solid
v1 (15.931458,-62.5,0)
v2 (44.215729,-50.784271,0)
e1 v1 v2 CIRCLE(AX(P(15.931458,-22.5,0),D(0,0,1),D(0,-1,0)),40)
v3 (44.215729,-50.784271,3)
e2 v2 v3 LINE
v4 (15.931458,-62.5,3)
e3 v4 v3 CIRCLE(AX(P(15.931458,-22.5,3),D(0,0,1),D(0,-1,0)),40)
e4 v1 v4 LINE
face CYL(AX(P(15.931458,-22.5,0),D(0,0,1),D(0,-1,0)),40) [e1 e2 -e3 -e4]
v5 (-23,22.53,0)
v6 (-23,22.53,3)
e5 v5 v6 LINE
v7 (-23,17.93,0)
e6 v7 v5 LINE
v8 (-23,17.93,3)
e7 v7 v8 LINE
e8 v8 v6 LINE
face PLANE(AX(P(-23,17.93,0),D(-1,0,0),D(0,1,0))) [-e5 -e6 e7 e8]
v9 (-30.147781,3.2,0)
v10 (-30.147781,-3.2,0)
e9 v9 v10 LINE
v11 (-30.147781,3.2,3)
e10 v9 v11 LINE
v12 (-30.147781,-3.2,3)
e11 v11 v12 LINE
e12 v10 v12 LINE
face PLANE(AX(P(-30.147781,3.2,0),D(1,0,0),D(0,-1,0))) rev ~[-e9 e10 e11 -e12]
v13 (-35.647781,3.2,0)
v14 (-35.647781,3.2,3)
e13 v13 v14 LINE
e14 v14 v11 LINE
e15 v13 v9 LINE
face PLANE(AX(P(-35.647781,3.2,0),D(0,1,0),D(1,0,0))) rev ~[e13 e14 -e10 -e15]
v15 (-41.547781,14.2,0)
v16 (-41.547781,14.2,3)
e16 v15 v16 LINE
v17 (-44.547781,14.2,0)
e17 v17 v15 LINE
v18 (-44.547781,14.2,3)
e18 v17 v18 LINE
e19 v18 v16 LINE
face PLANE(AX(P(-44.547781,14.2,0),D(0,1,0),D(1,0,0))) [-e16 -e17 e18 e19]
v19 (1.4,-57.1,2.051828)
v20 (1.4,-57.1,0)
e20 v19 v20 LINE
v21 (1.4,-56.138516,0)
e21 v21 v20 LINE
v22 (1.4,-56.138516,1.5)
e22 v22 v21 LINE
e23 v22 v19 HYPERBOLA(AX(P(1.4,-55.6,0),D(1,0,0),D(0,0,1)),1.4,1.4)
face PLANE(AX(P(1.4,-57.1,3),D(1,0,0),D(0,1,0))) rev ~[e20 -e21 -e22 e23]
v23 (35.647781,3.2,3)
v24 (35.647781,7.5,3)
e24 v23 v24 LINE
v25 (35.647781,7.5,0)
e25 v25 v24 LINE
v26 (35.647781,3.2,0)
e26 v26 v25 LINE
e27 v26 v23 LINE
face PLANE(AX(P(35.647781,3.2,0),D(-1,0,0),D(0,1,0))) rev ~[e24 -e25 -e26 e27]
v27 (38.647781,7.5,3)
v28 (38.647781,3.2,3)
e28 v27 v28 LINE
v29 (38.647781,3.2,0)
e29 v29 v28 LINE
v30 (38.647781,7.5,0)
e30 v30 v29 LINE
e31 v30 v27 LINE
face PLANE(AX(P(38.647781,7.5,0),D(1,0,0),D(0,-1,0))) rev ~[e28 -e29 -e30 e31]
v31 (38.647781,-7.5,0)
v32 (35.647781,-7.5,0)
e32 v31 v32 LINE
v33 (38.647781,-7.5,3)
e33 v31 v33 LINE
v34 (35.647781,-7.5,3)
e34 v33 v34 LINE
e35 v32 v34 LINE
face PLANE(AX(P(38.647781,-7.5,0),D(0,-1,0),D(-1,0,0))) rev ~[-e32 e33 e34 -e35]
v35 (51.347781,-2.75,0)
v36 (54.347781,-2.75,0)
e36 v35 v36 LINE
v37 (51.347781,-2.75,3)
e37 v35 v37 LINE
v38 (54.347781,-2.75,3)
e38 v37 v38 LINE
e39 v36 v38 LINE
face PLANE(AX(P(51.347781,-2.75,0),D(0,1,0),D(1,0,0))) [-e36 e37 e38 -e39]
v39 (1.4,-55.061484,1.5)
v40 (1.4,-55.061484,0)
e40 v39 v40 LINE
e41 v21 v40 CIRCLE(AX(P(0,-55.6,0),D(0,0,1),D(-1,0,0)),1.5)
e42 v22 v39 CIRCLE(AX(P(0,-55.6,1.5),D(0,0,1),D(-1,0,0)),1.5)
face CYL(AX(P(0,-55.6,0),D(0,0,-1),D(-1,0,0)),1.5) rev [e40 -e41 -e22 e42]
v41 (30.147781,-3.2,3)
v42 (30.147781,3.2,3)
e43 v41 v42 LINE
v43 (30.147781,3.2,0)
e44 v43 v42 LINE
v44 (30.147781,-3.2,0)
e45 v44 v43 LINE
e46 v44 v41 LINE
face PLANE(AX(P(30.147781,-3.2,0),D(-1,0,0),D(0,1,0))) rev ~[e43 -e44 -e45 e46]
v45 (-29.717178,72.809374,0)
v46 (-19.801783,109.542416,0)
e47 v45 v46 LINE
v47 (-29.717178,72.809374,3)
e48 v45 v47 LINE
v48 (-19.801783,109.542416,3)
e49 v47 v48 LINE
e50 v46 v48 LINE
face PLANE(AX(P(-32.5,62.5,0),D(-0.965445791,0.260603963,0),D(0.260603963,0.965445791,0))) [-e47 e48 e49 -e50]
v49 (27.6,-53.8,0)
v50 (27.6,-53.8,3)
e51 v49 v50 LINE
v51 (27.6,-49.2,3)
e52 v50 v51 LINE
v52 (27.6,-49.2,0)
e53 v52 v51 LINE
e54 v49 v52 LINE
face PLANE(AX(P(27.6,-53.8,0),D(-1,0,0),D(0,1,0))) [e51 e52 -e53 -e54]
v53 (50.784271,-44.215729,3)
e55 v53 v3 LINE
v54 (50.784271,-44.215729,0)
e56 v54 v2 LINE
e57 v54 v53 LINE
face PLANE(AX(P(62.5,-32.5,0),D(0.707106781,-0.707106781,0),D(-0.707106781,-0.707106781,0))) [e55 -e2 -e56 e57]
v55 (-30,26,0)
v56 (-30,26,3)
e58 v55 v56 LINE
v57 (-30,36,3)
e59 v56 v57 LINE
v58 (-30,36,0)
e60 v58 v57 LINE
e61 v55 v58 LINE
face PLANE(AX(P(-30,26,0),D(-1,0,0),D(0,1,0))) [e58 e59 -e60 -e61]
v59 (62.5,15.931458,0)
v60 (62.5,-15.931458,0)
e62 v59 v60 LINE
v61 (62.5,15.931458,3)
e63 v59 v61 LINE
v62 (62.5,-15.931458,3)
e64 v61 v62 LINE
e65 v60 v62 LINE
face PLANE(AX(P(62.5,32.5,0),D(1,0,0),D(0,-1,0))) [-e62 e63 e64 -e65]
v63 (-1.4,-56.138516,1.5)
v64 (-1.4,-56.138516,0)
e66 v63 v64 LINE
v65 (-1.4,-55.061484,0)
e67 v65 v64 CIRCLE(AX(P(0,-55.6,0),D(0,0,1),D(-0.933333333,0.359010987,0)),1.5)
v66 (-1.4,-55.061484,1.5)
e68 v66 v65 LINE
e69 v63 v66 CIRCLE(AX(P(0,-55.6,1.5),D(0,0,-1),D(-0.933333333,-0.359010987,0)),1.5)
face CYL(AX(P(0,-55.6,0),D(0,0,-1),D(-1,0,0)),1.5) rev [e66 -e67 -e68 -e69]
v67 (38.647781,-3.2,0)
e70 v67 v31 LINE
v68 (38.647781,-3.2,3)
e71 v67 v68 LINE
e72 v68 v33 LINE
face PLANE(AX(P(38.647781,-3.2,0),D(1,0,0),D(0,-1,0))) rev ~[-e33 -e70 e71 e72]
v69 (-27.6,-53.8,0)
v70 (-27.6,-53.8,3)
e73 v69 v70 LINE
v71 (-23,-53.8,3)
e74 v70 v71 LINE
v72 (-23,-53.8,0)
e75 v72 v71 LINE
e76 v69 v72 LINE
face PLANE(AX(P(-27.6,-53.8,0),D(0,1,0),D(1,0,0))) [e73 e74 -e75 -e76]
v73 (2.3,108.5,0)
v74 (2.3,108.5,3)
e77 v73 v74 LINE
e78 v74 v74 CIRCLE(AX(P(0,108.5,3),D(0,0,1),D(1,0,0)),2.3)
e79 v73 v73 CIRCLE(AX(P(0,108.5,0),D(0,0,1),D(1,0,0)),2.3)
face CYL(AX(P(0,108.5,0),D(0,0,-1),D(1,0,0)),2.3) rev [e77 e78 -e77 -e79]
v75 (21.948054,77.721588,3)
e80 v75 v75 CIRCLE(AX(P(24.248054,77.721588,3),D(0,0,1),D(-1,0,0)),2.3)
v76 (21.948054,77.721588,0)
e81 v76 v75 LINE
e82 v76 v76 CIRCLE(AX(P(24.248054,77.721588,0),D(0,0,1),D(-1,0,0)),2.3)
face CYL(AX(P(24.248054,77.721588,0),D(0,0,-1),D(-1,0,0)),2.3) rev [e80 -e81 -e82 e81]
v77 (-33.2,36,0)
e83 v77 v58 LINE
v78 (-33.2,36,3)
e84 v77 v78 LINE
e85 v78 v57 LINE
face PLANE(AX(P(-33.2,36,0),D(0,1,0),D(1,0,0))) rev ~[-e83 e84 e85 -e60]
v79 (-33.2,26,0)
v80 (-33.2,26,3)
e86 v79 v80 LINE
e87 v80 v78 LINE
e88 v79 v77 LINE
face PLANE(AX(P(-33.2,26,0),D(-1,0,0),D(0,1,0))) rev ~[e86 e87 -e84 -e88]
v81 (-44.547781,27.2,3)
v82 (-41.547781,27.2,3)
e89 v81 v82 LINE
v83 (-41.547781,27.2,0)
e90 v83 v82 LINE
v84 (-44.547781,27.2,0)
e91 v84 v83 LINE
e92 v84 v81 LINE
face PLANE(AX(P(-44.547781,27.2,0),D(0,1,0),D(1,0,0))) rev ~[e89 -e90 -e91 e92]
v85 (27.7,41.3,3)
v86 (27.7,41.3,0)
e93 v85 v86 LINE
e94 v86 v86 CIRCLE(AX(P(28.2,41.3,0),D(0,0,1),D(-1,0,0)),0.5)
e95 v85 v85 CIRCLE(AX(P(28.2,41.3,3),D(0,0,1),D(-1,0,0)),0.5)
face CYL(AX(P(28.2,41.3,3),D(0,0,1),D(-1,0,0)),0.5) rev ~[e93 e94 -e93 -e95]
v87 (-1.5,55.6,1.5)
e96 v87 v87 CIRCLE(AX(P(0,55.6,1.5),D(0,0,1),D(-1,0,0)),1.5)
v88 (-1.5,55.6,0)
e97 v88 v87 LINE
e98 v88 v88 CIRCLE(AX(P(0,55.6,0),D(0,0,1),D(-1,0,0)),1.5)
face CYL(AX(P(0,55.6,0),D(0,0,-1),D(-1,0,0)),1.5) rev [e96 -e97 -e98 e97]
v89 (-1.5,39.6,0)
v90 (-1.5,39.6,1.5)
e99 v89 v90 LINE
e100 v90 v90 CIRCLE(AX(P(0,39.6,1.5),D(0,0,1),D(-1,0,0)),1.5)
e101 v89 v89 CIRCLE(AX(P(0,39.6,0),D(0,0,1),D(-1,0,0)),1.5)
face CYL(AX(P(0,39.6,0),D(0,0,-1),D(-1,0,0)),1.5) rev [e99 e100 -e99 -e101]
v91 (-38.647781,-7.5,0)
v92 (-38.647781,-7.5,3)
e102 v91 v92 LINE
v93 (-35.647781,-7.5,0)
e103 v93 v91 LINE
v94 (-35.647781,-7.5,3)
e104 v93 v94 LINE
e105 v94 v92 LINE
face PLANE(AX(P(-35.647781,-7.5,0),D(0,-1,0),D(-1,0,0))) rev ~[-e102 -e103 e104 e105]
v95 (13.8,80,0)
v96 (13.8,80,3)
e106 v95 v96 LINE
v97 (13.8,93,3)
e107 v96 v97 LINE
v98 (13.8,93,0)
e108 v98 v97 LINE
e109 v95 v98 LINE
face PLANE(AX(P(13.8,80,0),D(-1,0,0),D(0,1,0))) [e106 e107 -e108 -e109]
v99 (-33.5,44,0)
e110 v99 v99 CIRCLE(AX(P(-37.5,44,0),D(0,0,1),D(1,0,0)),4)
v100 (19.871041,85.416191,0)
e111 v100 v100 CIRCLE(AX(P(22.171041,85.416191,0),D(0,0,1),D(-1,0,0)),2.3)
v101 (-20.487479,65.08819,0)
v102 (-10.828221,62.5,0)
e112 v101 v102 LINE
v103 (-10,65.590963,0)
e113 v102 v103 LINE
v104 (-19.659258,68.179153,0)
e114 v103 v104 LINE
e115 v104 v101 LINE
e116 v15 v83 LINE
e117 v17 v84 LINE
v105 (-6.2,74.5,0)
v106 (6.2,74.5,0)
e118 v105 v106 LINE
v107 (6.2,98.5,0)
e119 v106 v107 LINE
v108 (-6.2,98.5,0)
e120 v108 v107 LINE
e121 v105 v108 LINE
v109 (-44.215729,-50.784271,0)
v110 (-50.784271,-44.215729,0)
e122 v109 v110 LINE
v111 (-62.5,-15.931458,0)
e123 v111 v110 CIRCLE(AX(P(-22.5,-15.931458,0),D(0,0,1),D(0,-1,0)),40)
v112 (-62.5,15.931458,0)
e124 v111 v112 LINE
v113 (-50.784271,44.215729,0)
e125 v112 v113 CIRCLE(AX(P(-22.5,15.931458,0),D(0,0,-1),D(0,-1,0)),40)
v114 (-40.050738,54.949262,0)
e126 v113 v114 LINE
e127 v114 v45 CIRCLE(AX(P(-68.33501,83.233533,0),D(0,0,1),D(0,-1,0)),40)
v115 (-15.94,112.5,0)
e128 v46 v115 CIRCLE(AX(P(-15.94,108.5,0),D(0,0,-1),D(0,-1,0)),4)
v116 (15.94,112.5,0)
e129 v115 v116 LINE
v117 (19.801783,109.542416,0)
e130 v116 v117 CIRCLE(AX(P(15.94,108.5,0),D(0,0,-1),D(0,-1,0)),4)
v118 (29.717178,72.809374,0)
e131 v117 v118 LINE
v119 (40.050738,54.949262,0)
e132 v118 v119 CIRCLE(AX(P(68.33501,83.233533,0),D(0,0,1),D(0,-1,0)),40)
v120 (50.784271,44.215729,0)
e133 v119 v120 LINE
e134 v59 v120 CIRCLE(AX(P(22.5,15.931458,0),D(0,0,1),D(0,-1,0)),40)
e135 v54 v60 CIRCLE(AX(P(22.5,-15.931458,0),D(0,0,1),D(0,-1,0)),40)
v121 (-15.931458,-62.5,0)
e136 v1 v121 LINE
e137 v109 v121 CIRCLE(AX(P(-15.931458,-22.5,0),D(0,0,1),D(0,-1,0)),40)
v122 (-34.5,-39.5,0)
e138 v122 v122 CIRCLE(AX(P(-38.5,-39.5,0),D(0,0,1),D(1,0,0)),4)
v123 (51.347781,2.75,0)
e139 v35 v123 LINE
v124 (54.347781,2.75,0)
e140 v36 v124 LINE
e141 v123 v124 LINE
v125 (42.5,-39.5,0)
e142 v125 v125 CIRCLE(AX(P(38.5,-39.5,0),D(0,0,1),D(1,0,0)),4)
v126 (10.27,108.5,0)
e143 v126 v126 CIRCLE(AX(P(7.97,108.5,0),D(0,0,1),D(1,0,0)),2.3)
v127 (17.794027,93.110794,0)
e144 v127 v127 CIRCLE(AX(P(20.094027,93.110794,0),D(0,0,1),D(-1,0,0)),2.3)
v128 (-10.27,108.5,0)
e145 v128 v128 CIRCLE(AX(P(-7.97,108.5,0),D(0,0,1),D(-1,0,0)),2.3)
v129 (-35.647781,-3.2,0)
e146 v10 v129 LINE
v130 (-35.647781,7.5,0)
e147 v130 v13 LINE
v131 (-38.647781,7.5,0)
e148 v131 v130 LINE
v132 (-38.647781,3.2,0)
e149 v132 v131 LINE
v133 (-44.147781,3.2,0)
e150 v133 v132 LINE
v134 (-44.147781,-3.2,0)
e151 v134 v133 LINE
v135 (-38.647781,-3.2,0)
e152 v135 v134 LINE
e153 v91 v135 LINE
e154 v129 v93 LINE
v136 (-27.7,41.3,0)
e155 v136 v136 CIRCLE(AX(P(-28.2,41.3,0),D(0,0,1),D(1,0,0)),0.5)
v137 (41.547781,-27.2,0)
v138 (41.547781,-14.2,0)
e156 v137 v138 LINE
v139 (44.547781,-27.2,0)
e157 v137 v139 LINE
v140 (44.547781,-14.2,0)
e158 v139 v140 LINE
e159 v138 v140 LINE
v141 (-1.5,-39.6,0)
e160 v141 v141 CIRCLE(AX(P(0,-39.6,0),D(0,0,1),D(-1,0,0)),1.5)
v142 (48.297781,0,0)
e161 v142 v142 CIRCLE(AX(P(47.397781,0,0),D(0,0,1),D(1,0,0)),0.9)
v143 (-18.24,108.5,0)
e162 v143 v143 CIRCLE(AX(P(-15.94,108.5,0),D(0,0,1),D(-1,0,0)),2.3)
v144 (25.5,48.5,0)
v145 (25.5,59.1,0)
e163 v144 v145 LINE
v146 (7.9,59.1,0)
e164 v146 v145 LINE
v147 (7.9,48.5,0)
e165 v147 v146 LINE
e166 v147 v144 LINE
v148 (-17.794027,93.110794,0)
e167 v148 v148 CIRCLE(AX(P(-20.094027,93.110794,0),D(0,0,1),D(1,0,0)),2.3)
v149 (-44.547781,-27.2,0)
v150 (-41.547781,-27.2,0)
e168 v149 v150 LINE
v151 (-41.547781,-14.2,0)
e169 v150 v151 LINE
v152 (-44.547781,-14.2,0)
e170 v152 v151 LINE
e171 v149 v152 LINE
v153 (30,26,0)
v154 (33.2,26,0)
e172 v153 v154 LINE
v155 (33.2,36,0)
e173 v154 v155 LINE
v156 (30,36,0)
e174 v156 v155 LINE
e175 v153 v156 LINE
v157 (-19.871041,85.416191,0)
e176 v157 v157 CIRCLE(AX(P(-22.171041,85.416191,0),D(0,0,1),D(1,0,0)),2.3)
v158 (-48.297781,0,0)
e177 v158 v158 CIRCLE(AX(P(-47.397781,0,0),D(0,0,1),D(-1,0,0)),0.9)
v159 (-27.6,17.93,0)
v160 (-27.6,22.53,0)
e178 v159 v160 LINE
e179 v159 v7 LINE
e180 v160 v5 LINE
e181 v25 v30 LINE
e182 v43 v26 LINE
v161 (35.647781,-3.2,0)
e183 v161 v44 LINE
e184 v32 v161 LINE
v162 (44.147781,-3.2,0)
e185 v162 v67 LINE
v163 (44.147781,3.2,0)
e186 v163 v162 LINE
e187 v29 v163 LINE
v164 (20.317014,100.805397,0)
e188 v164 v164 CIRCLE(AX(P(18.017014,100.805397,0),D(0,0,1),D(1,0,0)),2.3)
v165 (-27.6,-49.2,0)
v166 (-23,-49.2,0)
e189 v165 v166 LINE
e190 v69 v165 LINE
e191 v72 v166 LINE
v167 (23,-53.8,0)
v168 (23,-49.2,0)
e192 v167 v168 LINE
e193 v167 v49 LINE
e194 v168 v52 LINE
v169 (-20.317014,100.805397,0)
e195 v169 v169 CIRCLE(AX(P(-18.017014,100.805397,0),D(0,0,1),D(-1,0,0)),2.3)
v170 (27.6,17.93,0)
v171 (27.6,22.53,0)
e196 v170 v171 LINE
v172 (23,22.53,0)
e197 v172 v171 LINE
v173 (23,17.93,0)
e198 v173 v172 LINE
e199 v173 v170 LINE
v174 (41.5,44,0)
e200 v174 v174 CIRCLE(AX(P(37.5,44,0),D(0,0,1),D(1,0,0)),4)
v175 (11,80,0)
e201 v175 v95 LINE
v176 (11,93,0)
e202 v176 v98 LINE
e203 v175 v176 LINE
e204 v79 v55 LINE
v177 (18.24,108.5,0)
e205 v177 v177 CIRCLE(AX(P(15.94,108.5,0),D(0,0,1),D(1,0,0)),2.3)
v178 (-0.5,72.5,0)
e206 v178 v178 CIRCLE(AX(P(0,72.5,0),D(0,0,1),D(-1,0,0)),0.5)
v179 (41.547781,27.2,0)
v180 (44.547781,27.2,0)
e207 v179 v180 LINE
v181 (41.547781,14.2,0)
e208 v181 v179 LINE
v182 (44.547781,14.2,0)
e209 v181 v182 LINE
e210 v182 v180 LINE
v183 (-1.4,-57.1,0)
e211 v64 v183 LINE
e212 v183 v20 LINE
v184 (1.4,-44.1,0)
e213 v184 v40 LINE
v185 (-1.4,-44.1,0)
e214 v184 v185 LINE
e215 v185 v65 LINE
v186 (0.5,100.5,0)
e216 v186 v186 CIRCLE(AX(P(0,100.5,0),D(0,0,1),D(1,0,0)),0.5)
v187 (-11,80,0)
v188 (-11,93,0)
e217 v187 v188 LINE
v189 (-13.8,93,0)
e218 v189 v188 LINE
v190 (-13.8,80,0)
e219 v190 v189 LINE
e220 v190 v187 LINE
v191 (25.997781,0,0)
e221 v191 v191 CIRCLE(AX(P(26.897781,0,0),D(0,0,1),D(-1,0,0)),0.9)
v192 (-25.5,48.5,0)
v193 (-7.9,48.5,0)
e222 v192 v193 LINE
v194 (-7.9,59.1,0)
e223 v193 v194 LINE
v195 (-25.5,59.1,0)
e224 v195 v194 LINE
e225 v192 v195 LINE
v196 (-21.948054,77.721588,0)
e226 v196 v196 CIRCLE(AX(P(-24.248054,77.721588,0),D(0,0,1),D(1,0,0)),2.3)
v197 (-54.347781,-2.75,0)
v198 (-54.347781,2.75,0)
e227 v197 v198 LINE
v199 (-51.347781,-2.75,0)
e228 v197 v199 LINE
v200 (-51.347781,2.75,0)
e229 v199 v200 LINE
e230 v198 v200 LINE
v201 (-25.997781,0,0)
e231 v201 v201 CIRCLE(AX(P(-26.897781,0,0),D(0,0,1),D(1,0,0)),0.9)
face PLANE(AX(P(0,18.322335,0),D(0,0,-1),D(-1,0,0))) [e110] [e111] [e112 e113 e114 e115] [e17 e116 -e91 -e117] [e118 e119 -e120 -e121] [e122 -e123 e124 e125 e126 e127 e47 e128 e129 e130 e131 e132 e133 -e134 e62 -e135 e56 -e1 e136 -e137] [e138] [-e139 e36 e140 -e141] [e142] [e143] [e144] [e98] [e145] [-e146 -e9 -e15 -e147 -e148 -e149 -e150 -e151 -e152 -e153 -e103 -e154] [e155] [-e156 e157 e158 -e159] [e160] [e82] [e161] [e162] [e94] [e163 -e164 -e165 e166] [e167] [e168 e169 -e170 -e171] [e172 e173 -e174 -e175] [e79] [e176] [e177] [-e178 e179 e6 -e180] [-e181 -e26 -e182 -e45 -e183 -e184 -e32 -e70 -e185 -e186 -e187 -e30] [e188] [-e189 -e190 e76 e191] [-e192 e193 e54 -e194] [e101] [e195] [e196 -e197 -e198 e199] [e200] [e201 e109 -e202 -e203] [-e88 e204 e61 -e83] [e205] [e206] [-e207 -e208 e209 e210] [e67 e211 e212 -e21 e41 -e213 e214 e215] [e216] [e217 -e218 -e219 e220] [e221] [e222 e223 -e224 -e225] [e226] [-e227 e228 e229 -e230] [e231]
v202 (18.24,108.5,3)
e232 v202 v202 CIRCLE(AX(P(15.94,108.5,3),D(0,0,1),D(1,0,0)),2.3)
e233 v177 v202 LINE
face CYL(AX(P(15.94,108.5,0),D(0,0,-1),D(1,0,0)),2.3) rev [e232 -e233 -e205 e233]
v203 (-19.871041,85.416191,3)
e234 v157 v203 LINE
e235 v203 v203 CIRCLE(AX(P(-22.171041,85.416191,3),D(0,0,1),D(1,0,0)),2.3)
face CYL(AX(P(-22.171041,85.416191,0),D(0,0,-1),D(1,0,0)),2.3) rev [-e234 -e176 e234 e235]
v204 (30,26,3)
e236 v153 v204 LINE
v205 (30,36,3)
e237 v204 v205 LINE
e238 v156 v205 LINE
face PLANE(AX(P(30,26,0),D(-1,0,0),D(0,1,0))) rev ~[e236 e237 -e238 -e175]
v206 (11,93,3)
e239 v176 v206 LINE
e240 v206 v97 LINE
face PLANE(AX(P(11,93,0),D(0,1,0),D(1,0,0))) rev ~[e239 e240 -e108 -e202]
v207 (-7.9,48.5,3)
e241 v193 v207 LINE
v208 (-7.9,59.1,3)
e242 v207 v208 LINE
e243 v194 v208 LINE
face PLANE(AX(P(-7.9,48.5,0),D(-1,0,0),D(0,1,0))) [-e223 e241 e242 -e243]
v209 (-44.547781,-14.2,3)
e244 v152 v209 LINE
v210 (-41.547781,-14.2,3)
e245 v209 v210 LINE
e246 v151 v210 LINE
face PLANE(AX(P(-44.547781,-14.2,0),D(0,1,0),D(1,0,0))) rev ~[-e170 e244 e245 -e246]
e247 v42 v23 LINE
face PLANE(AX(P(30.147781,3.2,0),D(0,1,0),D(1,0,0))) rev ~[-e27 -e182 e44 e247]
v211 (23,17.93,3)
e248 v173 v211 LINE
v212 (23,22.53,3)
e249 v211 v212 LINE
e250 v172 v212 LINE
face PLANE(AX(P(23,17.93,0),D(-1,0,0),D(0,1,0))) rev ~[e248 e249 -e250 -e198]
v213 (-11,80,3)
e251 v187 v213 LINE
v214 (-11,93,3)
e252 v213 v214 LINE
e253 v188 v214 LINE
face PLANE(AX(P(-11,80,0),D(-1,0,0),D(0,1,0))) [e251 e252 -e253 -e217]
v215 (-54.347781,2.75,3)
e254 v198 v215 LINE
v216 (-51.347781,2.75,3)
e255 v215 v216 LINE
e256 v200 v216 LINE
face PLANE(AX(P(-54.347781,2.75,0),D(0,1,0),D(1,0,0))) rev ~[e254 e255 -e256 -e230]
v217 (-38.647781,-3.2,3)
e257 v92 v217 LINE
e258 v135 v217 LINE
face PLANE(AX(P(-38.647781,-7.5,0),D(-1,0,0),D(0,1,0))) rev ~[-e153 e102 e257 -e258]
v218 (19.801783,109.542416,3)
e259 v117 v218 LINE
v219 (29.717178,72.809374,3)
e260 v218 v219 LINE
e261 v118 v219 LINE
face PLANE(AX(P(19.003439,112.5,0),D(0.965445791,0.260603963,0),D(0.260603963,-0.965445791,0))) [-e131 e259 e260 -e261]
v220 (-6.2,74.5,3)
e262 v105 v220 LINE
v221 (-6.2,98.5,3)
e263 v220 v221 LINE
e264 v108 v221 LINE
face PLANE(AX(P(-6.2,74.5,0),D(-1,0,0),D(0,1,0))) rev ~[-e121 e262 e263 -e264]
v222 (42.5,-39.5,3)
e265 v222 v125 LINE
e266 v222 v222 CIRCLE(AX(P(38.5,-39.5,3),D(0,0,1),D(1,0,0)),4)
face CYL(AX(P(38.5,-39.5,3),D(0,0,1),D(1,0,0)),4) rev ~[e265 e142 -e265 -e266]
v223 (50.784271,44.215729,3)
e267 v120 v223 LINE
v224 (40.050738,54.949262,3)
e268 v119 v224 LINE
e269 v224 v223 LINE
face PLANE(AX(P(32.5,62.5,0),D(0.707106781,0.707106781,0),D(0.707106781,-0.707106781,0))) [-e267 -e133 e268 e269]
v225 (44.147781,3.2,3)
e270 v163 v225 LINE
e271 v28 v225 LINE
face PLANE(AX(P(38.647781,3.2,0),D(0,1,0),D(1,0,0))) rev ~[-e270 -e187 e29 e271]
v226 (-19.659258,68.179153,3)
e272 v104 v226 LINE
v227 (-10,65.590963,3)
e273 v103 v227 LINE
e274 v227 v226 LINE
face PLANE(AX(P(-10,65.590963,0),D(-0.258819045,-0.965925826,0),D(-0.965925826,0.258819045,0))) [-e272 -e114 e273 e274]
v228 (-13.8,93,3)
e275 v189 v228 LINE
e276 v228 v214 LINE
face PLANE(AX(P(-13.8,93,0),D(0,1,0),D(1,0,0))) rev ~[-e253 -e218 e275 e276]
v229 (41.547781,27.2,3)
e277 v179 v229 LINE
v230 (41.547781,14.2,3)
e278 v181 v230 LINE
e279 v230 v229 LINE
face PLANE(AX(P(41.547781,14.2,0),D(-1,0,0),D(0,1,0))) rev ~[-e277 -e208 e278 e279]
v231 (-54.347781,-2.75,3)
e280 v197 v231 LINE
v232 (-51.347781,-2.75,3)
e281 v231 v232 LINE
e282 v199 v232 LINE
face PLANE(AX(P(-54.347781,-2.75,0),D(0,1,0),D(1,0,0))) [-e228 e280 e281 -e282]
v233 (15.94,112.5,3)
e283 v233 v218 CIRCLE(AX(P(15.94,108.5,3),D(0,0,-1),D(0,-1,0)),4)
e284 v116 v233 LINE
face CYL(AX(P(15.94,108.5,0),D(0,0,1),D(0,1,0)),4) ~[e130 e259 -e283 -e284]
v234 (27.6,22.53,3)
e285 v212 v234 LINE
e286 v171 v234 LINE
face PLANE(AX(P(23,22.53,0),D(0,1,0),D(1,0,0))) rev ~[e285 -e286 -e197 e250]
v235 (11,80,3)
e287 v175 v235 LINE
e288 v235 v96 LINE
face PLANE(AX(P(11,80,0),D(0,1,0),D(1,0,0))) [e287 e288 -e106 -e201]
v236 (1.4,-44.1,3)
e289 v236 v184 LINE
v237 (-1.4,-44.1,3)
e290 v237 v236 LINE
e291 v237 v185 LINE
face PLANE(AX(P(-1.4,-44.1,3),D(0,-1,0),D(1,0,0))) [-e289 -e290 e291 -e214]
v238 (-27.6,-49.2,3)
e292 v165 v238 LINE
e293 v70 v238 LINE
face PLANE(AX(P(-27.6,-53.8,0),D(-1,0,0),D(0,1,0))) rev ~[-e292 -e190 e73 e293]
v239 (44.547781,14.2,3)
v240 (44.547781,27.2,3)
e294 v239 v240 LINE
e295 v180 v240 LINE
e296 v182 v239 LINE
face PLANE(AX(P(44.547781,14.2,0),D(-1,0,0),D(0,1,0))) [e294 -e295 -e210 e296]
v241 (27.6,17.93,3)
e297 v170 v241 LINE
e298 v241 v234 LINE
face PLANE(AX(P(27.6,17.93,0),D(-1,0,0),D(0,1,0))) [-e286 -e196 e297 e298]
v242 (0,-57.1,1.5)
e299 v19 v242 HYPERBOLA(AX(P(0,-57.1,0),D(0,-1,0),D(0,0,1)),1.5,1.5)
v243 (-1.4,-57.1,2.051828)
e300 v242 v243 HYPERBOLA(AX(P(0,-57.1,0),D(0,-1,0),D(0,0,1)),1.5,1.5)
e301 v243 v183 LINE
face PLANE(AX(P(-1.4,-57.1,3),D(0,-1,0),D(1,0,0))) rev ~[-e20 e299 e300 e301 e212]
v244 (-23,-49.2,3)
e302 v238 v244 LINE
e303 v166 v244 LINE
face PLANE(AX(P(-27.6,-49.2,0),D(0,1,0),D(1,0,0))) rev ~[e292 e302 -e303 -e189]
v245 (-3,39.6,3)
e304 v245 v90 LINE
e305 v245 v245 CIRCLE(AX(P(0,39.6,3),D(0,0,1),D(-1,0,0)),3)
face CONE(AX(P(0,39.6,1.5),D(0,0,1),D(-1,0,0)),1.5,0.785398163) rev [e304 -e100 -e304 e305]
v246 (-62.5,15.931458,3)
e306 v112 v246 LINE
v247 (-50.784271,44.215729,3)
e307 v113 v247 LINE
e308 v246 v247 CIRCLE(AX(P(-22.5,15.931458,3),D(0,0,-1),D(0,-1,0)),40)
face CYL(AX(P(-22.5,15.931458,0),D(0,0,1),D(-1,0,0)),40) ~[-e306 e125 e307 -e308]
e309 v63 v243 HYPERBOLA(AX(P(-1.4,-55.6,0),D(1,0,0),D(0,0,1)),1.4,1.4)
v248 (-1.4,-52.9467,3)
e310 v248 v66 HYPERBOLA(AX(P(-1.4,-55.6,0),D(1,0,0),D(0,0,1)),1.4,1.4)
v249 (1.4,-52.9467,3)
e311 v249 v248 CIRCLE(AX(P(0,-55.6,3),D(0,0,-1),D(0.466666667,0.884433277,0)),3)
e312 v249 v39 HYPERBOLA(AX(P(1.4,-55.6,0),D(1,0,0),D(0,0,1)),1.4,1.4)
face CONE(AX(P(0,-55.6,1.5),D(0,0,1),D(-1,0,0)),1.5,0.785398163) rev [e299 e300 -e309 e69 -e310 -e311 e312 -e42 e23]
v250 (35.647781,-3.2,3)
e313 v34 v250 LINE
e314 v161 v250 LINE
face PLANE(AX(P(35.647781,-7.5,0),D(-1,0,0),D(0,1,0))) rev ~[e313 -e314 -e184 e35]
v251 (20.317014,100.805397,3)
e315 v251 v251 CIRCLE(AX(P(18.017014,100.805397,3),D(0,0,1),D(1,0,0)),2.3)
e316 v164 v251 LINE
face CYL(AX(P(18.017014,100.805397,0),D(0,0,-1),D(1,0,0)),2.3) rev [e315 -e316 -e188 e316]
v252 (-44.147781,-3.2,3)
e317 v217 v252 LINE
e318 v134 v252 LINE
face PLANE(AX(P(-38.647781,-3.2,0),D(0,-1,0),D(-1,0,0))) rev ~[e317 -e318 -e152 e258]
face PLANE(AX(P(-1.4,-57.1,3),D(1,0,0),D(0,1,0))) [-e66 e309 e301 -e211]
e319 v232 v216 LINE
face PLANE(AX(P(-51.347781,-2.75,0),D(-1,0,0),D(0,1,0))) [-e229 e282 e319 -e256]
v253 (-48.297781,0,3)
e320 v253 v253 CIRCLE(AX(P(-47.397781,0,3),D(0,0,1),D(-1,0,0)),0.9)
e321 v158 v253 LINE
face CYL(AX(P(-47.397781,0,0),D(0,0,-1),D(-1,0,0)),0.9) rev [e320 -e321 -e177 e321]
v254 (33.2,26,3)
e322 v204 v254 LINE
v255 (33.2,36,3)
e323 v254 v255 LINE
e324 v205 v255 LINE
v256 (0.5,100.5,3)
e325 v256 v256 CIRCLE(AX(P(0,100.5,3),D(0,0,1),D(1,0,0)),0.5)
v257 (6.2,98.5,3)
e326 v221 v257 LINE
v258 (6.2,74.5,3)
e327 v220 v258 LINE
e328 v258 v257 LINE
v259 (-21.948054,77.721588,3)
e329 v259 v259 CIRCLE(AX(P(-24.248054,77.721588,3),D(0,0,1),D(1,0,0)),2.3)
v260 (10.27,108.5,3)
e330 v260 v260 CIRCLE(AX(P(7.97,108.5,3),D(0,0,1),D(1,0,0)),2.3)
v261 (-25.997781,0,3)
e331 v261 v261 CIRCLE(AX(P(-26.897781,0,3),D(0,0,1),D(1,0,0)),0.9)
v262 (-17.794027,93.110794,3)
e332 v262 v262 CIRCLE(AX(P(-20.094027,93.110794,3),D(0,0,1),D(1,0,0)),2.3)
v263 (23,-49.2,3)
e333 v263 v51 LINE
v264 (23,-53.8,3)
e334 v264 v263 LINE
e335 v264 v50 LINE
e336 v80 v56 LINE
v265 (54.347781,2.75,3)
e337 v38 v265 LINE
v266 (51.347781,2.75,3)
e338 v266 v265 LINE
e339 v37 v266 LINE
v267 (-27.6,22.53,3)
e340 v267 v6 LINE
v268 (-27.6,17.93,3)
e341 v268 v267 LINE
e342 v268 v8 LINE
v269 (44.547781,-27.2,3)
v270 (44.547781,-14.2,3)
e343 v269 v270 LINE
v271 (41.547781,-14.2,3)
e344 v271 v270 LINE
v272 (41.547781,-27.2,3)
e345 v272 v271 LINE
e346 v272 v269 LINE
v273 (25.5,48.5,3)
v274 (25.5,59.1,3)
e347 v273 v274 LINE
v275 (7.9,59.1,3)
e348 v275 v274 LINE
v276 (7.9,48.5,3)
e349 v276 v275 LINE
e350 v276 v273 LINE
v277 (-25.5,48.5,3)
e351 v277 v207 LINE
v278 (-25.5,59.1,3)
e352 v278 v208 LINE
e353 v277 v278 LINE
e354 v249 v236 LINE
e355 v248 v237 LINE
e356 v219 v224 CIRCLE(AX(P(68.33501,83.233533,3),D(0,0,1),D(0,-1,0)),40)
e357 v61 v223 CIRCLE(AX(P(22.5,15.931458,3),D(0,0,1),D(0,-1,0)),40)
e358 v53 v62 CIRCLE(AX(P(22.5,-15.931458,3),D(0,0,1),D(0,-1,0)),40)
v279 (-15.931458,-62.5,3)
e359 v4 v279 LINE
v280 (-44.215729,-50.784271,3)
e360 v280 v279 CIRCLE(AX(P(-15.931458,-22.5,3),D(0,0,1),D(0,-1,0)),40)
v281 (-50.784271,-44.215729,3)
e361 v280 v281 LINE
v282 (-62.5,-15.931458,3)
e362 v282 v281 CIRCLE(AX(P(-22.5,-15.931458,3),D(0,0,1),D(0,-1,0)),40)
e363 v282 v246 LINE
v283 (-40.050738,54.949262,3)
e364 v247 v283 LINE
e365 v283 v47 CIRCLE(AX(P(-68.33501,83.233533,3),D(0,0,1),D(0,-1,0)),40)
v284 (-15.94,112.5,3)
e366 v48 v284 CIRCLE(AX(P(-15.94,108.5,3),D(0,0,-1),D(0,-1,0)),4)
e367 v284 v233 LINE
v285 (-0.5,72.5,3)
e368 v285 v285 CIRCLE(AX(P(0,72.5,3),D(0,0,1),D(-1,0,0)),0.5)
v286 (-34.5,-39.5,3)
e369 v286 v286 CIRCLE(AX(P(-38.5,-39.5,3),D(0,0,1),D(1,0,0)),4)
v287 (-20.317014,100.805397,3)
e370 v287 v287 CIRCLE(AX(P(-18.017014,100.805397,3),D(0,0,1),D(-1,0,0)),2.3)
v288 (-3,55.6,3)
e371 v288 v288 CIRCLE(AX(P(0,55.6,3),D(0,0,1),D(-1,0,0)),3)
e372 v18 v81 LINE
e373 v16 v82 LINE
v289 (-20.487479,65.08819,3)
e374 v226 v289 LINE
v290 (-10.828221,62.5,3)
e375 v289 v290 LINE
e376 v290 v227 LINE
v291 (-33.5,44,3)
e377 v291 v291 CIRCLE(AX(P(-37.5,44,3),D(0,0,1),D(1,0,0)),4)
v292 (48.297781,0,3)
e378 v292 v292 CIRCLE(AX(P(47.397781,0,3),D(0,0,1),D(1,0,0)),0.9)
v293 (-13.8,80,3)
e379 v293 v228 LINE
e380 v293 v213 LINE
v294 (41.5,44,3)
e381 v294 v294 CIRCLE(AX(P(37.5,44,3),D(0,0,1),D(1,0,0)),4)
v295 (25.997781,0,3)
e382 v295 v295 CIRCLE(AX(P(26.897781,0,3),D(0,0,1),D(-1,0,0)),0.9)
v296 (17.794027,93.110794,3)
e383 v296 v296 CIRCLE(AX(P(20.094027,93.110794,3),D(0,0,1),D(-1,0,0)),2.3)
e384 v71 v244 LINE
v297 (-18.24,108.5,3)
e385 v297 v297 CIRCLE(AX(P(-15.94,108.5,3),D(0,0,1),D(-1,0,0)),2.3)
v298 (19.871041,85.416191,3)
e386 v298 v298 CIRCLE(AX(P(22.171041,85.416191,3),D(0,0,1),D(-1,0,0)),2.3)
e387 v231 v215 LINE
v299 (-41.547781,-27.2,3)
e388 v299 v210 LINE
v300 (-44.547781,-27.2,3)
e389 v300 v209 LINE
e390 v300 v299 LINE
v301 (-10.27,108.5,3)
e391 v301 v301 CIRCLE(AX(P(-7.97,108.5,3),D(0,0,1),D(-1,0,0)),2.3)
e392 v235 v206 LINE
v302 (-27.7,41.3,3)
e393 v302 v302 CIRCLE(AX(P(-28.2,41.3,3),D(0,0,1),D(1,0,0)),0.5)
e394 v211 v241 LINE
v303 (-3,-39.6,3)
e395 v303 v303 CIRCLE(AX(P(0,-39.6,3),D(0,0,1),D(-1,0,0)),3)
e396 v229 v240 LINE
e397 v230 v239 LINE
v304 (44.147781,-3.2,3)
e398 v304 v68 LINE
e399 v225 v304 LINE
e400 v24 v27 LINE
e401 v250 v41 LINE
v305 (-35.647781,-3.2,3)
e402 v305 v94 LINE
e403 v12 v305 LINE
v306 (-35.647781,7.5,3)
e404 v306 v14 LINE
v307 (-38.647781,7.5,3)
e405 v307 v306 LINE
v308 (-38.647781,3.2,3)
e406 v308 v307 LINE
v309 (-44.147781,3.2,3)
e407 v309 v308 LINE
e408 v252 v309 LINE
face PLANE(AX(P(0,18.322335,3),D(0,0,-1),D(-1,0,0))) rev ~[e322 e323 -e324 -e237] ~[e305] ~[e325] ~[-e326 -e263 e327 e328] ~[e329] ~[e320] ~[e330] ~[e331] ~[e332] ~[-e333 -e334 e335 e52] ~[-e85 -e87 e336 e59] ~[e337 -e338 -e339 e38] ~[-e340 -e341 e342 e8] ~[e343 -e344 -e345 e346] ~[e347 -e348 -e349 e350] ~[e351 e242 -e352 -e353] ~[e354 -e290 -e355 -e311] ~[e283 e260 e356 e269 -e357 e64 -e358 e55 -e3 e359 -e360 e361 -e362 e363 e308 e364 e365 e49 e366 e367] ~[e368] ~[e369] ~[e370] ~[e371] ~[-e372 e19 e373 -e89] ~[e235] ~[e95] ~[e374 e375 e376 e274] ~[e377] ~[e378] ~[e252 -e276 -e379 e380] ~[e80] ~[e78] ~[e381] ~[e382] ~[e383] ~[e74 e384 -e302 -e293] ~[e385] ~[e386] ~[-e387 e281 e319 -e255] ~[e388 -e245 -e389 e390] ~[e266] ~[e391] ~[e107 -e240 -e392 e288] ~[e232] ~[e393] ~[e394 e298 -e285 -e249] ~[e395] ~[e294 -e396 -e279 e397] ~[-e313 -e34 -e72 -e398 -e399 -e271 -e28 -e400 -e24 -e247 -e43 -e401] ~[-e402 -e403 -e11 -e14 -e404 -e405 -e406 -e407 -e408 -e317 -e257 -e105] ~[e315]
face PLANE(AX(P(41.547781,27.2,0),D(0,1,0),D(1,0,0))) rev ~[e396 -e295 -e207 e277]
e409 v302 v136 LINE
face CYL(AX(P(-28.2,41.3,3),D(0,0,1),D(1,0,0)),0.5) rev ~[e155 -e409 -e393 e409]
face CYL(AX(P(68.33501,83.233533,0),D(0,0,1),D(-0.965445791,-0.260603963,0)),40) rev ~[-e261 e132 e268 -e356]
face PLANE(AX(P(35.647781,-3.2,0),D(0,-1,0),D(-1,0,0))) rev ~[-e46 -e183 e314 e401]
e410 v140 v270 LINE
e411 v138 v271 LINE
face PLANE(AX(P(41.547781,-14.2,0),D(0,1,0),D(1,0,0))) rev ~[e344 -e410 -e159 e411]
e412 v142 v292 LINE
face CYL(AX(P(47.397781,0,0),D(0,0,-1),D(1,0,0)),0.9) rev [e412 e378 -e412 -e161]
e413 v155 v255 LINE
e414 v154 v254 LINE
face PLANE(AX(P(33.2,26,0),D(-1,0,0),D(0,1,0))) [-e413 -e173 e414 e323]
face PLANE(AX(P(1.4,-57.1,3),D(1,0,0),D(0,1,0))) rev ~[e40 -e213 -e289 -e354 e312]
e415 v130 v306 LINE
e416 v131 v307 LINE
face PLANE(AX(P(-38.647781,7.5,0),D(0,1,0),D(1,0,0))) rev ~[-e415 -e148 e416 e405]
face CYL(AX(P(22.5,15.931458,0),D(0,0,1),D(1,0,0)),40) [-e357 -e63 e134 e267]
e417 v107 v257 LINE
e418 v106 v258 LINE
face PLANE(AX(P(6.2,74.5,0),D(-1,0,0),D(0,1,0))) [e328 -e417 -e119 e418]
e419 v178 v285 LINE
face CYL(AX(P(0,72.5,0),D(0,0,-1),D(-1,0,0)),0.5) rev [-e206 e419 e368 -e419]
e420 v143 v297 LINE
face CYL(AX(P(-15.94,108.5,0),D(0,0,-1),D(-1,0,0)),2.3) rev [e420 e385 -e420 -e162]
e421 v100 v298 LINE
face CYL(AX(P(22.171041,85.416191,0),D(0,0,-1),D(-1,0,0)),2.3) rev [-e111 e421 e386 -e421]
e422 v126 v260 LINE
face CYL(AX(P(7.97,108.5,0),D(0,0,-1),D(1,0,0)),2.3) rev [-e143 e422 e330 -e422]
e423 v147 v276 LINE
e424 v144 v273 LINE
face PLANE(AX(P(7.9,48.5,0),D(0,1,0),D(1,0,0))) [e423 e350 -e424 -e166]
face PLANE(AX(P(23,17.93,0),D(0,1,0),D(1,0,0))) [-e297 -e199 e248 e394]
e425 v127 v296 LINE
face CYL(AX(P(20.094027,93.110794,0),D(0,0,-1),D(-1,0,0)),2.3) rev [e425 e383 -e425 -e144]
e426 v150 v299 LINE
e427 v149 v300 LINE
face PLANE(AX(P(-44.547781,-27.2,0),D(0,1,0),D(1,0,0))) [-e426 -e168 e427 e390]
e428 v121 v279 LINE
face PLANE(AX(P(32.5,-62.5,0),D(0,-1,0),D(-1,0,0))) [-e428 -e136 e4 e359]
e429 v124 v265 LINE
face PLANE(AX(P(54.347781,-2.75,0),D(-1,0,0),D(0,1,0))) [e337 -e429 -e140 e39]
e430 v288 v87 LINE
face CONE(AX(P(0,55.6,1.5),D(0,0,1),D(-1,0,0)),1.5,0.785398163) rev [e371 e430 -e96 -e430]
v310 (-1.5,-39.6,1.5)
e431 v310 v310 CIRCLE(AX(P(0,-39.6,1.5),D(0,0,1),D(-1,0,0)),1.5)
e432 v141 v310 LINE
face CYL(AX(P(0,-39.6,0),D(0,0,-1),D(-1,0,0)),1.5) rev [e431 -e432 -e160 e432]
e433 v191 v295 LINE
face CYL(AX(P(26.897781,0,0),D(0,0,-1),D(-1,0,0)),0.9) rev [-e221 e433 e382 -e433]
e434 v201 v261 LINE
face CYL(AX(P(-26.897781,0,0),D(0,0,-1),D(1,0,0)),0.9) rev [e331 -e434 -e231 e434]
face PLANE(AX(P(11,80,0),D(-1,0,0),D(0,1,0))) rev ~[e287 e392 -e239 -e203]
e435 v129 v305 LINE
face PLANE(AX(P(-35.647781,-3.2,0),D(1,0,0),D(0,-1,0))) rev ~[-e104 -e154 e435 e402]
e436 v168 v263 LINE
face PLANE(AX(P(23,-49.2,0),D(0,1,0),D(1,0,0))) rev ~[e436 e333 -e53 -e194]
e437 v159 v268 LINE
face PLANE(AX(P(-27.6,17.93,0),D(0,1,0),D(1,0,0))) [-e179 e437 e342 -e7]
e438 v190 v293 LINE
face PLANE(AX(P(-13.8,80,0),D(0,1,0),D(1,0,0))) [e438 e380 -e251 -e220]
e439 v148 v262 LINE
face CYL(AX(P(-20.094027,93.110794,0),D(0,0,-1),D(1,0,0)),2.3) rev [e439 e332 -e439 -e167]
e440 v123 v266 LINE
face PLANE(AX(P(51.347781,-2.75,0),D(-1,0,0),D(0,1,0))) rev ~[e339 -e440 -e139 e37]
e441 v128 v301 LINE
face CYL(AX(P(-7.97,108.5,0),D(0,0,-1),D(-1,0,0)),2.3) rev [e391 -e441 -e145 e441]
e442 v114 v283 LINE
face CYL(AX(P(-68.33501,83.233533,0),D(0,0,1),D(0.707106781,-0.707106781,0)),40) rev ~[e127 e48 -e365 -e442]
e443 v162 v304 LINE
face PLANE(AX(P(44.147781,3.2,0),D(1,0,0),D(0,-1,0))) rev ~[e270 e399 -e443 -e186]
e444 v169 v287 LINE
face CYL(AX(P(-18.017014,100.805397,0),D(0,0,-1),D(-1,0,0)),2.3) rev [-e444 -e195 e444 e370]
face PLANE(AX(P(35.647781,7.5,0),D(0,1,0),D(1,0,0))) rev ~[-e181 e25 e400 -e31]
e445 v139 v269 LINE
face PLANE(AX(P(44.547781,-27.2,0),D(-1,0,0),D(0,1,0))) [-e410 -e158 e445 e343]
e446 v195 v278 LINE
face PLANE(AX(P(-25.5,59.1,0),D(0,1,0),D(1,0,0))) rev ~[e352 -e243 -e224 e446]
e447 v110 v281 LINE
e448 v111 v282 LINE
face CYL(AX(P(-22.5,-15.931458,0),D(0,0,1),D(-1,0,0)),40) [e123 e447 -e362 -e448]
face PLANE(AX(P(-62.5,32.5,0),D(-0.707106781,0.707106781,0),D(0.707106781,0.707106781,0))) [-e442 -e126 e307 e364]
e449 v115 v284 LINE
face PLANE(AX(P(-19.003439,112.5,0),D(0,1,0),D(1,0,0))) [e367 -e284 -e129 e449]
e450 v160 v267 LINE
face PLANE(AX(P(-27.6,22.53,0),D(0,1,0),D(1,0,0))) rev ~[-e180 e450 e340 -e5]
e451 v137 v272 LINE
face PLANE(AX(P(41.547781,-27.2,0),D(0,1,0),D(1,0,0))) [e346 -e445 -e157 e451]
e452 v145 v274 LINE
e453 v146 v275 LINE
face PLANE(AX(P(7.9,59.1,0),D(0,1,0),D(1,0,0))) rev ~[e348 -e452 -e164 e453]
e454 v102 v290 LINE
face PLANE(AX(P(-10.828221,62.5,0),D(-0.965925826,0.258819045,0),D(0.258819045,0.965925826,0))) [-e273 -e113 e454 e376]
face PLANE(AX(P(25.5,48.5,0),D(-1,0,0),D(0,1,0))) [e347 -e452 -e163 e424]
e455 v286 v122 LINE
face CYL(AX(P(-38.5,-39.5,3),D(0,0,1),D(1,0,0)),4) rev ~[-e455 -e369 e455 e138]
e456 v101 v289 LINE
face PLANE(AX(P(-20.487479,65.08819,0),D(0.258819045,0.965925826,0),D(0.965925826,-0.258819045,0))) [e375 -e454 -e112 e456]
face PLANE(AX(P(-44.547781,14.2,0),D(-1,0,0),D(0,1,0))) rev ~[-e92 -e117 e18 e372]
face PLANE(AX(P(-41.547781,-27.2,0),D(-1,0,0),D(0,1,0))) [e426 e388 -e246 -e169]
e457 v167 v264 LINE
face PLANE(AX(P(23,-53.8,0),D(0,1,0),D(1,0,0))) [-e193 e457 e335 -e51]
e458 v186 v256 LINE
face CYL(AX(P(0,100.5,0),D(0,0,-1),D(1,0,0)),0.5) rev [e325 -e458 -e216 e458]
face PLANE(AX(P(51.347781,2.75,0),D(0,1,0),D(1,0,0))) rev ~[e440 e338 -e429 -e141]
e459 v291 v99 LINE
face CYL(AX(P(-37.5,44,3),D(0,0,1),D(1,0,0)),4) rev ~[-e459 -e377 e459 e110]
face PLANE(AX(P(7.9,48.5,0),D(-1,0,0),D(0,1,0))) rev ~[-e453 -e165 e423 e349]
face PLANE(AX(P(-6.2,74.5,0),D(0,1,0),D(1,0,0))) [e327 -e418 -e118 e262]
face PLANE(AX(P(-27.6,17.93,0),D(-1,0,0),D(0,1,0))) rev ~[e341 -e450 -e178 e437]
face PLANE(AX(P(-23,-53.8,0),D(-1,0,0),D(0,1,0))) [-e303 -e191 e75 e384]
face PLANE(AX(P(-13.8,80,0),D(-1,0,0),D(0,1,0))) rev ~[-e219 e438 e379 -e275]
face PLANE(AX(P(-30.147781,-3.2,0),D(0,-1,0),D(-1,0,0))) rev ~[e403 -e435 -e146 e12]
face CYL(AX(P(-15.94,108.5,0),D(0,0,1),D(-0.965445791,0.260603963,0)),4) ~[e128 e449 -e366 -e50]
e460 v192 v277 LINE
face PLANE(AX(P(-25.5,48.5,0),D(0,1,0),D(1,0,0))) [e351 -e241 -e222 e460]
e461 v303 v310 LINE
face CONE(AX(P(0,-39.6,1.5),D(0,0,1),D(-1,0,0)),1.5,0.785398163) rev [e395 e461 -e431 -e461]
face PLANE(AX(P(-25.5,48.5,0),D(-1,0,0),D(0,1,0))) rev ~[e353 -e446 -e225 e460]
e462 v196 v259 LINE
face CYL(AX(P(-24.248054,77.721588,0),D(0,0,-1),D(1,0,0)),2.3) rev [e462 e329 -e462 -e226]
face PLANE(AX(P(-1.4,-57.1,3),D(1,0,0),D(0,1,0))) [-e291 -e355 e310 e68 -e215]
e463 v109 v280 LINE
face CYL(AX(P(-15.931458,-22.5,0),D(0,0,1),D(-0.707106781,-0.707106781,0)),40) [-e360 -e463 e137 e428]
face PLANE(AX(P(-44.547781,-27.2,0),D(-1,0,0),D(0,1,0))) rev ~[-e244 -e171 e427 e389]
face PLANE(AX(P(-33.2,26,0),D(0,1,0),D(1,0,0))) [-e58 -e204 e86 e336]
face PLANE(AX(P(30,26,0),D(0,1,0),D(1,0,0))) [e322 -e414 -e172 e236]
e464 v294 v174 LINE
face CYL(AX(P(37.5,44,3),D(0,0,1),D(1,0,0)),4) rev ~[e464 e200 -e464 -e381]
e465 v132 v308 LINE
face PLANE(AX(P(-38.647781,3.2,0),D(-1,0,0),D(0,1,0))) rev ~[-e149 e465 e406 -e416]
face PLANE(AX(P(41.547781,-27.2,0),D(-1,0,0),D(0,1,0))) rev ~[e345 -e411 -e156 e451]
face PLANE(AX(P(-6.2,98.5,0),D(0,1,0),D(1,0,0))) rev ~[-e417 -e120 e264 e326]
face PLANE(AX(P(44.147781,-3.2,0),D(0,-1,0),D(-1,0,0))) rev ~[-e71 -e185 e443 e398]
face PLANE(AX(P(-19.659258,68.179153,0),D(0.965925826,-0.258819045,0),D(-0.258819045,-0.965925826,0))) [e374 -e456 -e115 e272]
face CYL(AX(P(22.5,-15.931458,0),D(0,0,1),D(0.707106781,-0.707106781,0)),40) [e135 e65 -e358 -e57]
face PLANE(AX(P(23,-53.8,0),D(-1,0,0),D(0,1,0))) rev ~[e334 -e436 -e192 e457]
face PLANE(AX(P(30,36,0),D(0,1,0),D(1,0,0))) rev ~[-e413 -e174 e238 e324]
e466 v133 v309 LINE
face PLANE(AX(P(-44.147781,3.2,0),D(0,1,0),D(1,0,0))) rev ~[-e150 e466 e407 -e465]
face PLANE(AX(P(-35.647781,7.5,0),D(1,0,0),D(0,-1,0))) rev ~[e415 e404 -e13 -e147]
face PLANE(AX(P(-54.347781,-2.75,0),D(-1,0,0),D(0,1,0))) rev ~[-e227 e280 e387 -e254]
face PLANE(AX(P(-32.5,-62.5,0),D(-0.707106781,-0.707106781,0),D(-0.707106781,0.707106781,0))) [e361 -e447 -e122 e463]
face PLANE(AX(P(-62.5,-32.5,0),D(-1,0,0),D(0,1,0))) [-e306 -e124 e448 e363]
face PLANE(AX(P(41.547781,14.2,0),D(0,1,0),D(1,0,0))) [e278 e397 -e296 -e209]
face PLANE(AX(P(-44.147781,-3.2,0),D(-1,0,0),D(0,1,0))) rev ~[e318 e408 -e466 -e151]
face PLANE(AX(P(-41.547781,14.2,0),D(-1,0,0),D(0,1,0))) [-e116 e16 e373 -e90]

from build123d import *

# Parameters (mm, degrees)
SKICA1_R                 = 0.5
SKICA1_R_2               = 2.3
SKICA1_R_3               = 0.9
SKICA1_W                 = 3
SKICA1_H                 = 13
SKICA1_H_2               = 5.5
SKICA1_W_2               = 17.6
SKICA1_H_3               = 10.6
SKICA1_W_3               = 12.4
SKICA1_H_4               = 24
SKICA1_W_4               = 2.8
SKICA1_W_5               = 3.2
SKICA1_H_5               = 10
SKICA1_W_6               = 4.6
SKICA1_H_6               = 4.6
P_IDAT_VYSUNUT_M1_DEPTH  = 3
SKICA2_R                 = 1.5
ODEBRAT_VYSUNUT_M1_DEPTH = 3
ZKOSEN_1_SIZE            = 1.5
ZAOBLIT1_R               = 40
ZAOBLIT2_R               = 4
SKICA3_R                 = 0.5
SKICA3_W                 = 2.8
SKICA3_H                 = 13
ODEBRAT_VYSUNUT_M2_DEPTH = 129.730338305
SKICA7_R                 = 4
ODEBRAT_VYSUNUT_M3_DEPTH = 129.730338305


with BuildPart() as part:
    # Skica1 → Přidat vysunutím1 (new body)
    with BuildSketch(Plane.XY):
        Polygon((-62.5, -32.5), (-62.5, 32.5), (-32.5, 62.5), (-19.003438856, 112.5), (19.003438856, 112.5), (32.5, 62.5), (62.5, 32.5), (62.5, -32.5), (32.5, -62.5), (-32.5, -62.5), align=None)
        with Locations((0, 100.5)):
            Circle(SKICA1_R, mode=Mode.SUBTRACT)
        with Locations(Location((0, 72.5, 0), (0, 0, 180))):
            Circle(SKICA1_R, mode=Mode.SUBTRACT)
        with Locations((0, 108.5)):
            Circle(SKICA1_R_2, mode=Mode.SUBTRACT)
        with Locations((7.97, 108.5)):
            Circle(SKICA1_R_2, mode=Mode.SUBTRACT)
        with Locations((15.94, 108.5)):
            Circle(SKICA1_R_2, mode=Mode.SUBTRACT)
        with Locations(Location((-15.94, 108.5, 0), (0, 0, 180))):
            Circle(SKICA1_R_2, mode=Mode.SUBTRACT)
        with Locations(Location((-7.97, 108.5, 0), (0, 0, 180))):
            Circle(SKICA1_R_2, mode=Mode.SUBTRACT)
        with Locations(Location((-18.017013584, 100.805397049, 0), (0, 0, 180))):
            Circle(SKICA1_R_2, mode=Mode.SUBTRACT)
        with Locations((-20.094027168, 93.110794098)):
            Circle(SKICA1_R_2, mode=Mode.SUBTRACT)
        with Locations((-22.171040752, 85.416191147)):
            Circle(SKICA1_R_2, mode=Mode.SUBTRACT)
        with Locations((-24.248054336, 77.721588196)):
            Circle(SKICA1_R_2, mode=Mode.SUBTRACT)
        with Locations(Location((24.248054336, 77.721588196, 0), (0, 0, 180))):
            Circle(SKICA1_R_2, mode=Mode.SUBTRACT)
        with Locations(Location((22.171040752, 85.416191147, 0), (0, 0, 180))):
            Circle(SKICA1_R_2, mode=Mode.SUBTRACT)
        with Locations(Location((20.094027168, 93.110794098, 0), (0, 0, 180))):
            Circle(SKICA1_R_2, mode=Mode.SUBTRACT)
        with Locations((18.017013584, 100.805397049)):
            Circle(SKICA1_R_2, mode=Mode.SUBTRACT)
        with Locations((47.397781356, 0)):
            Circle(SKICA1_R_3, mode=Mode.SUBTRACT)
        with Locations(Location((26.897781356, 0, 0), (0, 0, 180))):
            Circle(SKICA1_R_3, mode=Mode.SUBTRACT)
        with Locations(Location((-47.397781356, 0, 0), (0, 0, 180))):
            Circle(SKICA1_R_3, mode=Mode.SUBTRACT)
        with Locations((-26.897781356, 0)):
            Circle(SKICA1_R_3, mode=Mode.SUBTRACT)
        Polygon((-44.147781356, 3.2), (-38.647781356, 3.2), (-38.647781356, 7.5), (-35.647781356, 7.5), (-35.647781356, 3.2), (-30.147781356, 3.2), (-30.147781356, -3.2), (-35.647781356, -3.2), (-35.647781356, -7.5), (-38.647781356, -7.5), (-38.647781356, -3.2), (-44.147781356, -3.2), align=None, mode=Mode.SUBTRACT)
        with Locations((-43.047781356, 20.7)):
            Rectangle(SKICA1_W, SKICA1_H, mode=Mode.SUBTRACT)
        with Locations((-52.847781356, 0)):
            Rectangle(SKICA1_W, SKICA1_H_2, mode=Mode.SUBTRACT)
        with Locations((-43.047781356, -20.7)):
            Rectangle(SKICA1_W, SKICA1_H, mode=Mode.SUBTRACT)
        Polygon((38.647781356, -7.5), (35.647781356, -7.5), (35.647781356, -3.2), (30.147781356, -3.2), (30.147781356, 3.2), (35.647781356, 3.2), (35.647781356, 7.5), (38.647781356, 7.5), (38.647781356, 3.2), (44.147781356, 3.2), (44.147781356, -3.2), (38.647781356, -3.2), align=None, mode=Mode.SUBTRACT)
        with Locations((52.847781356, 0)):
            Rectangle(SKICA1_W, SKICA1_H_2, mode=Mode.SUBTRACT)
        with Locations((43.047781356, 20.7)):
            Rectangle(SKICA1_W, SKICA1_H, mode=Mode.SUBTRACT)
        with Locations((43.047781356, -20.7)):
            Rectangle(SKICA1_W, SKICA1_H, mode=Mode.SUBTRACT)
        with Locations((16.7, 53.8)):
            Rectangle(SKICA1_W_2, SKICA1_H_3, mode=Mode.SUBTRACT)
        with Locations((-16.7, 53.8)):
            Rectangle(SKICA1_W_2, SKICA1_H_3, mode=Mode.SUBTRACT)
        with Locations((0, 86.5)):
            Rectangle(SKICA1_W_3, SKICA1_H_4, mode=Mode.SUBTRACT)
        with Locations((-12.4, 86.5)):
            Rectangle(SKICA1_W_4, SKICA1_H, mode=Mode.SUBTRACT)
        Polygon((-20.487479207, 65.088190451), (-10.828220944, 62.5), (-10, 65.590962644), (-19.659258263, 68.179153095), align=None, mode=Mode.SUBTRACT)
        with Locations((12.4, 86.5)):
            Rectangle(SKICA1_W_4, SKICA1_H, mode=Mode.SUBTRACT)
        with Locations((31.6, 31)):
            Rectangle(SKICA1_W_5, SKICA1_H_5, mode=Mode.SUBTRACT)
        with Locations((-31.6, 31)):
            Rectangle(SKICA1_W_5, SKICA1_H_5, mode=Mode.SUBTRACT)
        with Locations((25.3, 20.23)):
            Rectangle(SKICA1_W_6, SKICA1_H_6, mode=Mode.SUBTRACT)
        with Locations((25.3, -51.5)):
            Rectangle(SKICA1_W_6, SKICA1_H_6, mode=Mode.SUBTRACT)
        with Locations((-25.3, -51.5)):
            Rectangle(SKICA1_W_6, SKICA1_H_6, mode=Mode.SUBTRACT)
        with Locations((-25.3, 20.23)):
            Rectangle(SKICA1_W_6, SKICA1_H_6, mode=Mode.SUBTRACT)
    extrude(amount=P_IDAT_VYSUNUT_M1_DEPTH)

    # Skica2 → Odebrat vysunutím1 (cut)
    with BuildSketch(Plane.XY):
        with Locations(Location((0, 39.6, 0), (0, 0, 180))):
            Circle(SKICA2_R)
        with Locations(Location((0, 55.6, 0), (0, 0, 180))):
            Circle(SKICA2_R)
        with Locations(Location((0, -55.6, 0), (0, 0, 180))):
            Circle(SKICA2_R)
        with Locations(Location((0, -39.6, 0), (0, 0, 180))):
            Circle(SKICA2_R)
    extrude(amount=ODEBRAT_VYSUNUT_M1_DEPTH, mode=Mode.SUBTRACT)

    # Zkosení1
    zkosen_1_edges = [part.edges().sort_by_distance(p)[0] for p in [
        (1.5, 55.6, 3),
        (1.5, -55.6, 3),
        (1.5, -39.6, 3),
        (1.5, 39.6, 3),
    ]]
    chamfer(zkosen_1_edges, length=ZKOSEN_1_SIZE)

    # Zaoblit1
    zaoblit1_edges = [part.edges().sort_by_distance(p)[0] for p in [
        (-62.5, -32.5, 1.5),
        (-62.5, 32.5, 1.5),
        (-32.5, 62.5, 1.5),
        (32.5, 62.5, 1.5),
        (62.5, 32.5, 1.5),
        (62.5, -32.5, 1.5),
        (32.5, -62.5, 1.5),
        (-32.5, -62.5, 1.5),
    ]]
    fillet(zaoblit1_edges, radius=ZAOBLIT1_R)

    # Zaoblit2
    zaoblit2_edges = [part.edges().sort_by_distance(p)[0] for p in [
        (-19.003438856, 112.5, 1.5),
        (19.003438856, 112.5, 1.5),
    ]]
    fillet(zaoblit2_edges, radius=ZAOBLIT2_R)

    # Skica3 → Odebrat vysunutím2 (cut, through all)
    with BuildSketch(Plane.XY.offset(3)):
        with Locations((-28.2, 41.3)):
            Circle(SKICA3_R)
        with Locations(Location((28.2, 41.3, 0), (0, 0, 180))):
            Circle(SKICA3_R)
        with Locations((0, -50.6)):
            Rectangle(SKICA3_W, SKICA3_H)
    extrude(amount=-ODEBRAT_VYSUNUT_M2_DEPTH, mode=Mode.SUBTRACT)

    # Skica7 → Odebrat vysunutím3 (cut, through all)
    with BuildSketch(Plane.XY.offset(3)):
        with Locations((-38.5, -39.5)):
            Circle(SKICA7_R)
        with Locations((38.5, -39.5)):
            Circle(SKICA7_R)
        with Locations((-37.5, 44)):
            Circle(SKICA7_R)
        with Locations((37.5, 44)):
            Circle(SKICA7_R)
    extrude(amount=-ODEBRAT_VYSUNUT_M3_DEPTH, mode=Mode.SUBTRACT)


solid = part.part
